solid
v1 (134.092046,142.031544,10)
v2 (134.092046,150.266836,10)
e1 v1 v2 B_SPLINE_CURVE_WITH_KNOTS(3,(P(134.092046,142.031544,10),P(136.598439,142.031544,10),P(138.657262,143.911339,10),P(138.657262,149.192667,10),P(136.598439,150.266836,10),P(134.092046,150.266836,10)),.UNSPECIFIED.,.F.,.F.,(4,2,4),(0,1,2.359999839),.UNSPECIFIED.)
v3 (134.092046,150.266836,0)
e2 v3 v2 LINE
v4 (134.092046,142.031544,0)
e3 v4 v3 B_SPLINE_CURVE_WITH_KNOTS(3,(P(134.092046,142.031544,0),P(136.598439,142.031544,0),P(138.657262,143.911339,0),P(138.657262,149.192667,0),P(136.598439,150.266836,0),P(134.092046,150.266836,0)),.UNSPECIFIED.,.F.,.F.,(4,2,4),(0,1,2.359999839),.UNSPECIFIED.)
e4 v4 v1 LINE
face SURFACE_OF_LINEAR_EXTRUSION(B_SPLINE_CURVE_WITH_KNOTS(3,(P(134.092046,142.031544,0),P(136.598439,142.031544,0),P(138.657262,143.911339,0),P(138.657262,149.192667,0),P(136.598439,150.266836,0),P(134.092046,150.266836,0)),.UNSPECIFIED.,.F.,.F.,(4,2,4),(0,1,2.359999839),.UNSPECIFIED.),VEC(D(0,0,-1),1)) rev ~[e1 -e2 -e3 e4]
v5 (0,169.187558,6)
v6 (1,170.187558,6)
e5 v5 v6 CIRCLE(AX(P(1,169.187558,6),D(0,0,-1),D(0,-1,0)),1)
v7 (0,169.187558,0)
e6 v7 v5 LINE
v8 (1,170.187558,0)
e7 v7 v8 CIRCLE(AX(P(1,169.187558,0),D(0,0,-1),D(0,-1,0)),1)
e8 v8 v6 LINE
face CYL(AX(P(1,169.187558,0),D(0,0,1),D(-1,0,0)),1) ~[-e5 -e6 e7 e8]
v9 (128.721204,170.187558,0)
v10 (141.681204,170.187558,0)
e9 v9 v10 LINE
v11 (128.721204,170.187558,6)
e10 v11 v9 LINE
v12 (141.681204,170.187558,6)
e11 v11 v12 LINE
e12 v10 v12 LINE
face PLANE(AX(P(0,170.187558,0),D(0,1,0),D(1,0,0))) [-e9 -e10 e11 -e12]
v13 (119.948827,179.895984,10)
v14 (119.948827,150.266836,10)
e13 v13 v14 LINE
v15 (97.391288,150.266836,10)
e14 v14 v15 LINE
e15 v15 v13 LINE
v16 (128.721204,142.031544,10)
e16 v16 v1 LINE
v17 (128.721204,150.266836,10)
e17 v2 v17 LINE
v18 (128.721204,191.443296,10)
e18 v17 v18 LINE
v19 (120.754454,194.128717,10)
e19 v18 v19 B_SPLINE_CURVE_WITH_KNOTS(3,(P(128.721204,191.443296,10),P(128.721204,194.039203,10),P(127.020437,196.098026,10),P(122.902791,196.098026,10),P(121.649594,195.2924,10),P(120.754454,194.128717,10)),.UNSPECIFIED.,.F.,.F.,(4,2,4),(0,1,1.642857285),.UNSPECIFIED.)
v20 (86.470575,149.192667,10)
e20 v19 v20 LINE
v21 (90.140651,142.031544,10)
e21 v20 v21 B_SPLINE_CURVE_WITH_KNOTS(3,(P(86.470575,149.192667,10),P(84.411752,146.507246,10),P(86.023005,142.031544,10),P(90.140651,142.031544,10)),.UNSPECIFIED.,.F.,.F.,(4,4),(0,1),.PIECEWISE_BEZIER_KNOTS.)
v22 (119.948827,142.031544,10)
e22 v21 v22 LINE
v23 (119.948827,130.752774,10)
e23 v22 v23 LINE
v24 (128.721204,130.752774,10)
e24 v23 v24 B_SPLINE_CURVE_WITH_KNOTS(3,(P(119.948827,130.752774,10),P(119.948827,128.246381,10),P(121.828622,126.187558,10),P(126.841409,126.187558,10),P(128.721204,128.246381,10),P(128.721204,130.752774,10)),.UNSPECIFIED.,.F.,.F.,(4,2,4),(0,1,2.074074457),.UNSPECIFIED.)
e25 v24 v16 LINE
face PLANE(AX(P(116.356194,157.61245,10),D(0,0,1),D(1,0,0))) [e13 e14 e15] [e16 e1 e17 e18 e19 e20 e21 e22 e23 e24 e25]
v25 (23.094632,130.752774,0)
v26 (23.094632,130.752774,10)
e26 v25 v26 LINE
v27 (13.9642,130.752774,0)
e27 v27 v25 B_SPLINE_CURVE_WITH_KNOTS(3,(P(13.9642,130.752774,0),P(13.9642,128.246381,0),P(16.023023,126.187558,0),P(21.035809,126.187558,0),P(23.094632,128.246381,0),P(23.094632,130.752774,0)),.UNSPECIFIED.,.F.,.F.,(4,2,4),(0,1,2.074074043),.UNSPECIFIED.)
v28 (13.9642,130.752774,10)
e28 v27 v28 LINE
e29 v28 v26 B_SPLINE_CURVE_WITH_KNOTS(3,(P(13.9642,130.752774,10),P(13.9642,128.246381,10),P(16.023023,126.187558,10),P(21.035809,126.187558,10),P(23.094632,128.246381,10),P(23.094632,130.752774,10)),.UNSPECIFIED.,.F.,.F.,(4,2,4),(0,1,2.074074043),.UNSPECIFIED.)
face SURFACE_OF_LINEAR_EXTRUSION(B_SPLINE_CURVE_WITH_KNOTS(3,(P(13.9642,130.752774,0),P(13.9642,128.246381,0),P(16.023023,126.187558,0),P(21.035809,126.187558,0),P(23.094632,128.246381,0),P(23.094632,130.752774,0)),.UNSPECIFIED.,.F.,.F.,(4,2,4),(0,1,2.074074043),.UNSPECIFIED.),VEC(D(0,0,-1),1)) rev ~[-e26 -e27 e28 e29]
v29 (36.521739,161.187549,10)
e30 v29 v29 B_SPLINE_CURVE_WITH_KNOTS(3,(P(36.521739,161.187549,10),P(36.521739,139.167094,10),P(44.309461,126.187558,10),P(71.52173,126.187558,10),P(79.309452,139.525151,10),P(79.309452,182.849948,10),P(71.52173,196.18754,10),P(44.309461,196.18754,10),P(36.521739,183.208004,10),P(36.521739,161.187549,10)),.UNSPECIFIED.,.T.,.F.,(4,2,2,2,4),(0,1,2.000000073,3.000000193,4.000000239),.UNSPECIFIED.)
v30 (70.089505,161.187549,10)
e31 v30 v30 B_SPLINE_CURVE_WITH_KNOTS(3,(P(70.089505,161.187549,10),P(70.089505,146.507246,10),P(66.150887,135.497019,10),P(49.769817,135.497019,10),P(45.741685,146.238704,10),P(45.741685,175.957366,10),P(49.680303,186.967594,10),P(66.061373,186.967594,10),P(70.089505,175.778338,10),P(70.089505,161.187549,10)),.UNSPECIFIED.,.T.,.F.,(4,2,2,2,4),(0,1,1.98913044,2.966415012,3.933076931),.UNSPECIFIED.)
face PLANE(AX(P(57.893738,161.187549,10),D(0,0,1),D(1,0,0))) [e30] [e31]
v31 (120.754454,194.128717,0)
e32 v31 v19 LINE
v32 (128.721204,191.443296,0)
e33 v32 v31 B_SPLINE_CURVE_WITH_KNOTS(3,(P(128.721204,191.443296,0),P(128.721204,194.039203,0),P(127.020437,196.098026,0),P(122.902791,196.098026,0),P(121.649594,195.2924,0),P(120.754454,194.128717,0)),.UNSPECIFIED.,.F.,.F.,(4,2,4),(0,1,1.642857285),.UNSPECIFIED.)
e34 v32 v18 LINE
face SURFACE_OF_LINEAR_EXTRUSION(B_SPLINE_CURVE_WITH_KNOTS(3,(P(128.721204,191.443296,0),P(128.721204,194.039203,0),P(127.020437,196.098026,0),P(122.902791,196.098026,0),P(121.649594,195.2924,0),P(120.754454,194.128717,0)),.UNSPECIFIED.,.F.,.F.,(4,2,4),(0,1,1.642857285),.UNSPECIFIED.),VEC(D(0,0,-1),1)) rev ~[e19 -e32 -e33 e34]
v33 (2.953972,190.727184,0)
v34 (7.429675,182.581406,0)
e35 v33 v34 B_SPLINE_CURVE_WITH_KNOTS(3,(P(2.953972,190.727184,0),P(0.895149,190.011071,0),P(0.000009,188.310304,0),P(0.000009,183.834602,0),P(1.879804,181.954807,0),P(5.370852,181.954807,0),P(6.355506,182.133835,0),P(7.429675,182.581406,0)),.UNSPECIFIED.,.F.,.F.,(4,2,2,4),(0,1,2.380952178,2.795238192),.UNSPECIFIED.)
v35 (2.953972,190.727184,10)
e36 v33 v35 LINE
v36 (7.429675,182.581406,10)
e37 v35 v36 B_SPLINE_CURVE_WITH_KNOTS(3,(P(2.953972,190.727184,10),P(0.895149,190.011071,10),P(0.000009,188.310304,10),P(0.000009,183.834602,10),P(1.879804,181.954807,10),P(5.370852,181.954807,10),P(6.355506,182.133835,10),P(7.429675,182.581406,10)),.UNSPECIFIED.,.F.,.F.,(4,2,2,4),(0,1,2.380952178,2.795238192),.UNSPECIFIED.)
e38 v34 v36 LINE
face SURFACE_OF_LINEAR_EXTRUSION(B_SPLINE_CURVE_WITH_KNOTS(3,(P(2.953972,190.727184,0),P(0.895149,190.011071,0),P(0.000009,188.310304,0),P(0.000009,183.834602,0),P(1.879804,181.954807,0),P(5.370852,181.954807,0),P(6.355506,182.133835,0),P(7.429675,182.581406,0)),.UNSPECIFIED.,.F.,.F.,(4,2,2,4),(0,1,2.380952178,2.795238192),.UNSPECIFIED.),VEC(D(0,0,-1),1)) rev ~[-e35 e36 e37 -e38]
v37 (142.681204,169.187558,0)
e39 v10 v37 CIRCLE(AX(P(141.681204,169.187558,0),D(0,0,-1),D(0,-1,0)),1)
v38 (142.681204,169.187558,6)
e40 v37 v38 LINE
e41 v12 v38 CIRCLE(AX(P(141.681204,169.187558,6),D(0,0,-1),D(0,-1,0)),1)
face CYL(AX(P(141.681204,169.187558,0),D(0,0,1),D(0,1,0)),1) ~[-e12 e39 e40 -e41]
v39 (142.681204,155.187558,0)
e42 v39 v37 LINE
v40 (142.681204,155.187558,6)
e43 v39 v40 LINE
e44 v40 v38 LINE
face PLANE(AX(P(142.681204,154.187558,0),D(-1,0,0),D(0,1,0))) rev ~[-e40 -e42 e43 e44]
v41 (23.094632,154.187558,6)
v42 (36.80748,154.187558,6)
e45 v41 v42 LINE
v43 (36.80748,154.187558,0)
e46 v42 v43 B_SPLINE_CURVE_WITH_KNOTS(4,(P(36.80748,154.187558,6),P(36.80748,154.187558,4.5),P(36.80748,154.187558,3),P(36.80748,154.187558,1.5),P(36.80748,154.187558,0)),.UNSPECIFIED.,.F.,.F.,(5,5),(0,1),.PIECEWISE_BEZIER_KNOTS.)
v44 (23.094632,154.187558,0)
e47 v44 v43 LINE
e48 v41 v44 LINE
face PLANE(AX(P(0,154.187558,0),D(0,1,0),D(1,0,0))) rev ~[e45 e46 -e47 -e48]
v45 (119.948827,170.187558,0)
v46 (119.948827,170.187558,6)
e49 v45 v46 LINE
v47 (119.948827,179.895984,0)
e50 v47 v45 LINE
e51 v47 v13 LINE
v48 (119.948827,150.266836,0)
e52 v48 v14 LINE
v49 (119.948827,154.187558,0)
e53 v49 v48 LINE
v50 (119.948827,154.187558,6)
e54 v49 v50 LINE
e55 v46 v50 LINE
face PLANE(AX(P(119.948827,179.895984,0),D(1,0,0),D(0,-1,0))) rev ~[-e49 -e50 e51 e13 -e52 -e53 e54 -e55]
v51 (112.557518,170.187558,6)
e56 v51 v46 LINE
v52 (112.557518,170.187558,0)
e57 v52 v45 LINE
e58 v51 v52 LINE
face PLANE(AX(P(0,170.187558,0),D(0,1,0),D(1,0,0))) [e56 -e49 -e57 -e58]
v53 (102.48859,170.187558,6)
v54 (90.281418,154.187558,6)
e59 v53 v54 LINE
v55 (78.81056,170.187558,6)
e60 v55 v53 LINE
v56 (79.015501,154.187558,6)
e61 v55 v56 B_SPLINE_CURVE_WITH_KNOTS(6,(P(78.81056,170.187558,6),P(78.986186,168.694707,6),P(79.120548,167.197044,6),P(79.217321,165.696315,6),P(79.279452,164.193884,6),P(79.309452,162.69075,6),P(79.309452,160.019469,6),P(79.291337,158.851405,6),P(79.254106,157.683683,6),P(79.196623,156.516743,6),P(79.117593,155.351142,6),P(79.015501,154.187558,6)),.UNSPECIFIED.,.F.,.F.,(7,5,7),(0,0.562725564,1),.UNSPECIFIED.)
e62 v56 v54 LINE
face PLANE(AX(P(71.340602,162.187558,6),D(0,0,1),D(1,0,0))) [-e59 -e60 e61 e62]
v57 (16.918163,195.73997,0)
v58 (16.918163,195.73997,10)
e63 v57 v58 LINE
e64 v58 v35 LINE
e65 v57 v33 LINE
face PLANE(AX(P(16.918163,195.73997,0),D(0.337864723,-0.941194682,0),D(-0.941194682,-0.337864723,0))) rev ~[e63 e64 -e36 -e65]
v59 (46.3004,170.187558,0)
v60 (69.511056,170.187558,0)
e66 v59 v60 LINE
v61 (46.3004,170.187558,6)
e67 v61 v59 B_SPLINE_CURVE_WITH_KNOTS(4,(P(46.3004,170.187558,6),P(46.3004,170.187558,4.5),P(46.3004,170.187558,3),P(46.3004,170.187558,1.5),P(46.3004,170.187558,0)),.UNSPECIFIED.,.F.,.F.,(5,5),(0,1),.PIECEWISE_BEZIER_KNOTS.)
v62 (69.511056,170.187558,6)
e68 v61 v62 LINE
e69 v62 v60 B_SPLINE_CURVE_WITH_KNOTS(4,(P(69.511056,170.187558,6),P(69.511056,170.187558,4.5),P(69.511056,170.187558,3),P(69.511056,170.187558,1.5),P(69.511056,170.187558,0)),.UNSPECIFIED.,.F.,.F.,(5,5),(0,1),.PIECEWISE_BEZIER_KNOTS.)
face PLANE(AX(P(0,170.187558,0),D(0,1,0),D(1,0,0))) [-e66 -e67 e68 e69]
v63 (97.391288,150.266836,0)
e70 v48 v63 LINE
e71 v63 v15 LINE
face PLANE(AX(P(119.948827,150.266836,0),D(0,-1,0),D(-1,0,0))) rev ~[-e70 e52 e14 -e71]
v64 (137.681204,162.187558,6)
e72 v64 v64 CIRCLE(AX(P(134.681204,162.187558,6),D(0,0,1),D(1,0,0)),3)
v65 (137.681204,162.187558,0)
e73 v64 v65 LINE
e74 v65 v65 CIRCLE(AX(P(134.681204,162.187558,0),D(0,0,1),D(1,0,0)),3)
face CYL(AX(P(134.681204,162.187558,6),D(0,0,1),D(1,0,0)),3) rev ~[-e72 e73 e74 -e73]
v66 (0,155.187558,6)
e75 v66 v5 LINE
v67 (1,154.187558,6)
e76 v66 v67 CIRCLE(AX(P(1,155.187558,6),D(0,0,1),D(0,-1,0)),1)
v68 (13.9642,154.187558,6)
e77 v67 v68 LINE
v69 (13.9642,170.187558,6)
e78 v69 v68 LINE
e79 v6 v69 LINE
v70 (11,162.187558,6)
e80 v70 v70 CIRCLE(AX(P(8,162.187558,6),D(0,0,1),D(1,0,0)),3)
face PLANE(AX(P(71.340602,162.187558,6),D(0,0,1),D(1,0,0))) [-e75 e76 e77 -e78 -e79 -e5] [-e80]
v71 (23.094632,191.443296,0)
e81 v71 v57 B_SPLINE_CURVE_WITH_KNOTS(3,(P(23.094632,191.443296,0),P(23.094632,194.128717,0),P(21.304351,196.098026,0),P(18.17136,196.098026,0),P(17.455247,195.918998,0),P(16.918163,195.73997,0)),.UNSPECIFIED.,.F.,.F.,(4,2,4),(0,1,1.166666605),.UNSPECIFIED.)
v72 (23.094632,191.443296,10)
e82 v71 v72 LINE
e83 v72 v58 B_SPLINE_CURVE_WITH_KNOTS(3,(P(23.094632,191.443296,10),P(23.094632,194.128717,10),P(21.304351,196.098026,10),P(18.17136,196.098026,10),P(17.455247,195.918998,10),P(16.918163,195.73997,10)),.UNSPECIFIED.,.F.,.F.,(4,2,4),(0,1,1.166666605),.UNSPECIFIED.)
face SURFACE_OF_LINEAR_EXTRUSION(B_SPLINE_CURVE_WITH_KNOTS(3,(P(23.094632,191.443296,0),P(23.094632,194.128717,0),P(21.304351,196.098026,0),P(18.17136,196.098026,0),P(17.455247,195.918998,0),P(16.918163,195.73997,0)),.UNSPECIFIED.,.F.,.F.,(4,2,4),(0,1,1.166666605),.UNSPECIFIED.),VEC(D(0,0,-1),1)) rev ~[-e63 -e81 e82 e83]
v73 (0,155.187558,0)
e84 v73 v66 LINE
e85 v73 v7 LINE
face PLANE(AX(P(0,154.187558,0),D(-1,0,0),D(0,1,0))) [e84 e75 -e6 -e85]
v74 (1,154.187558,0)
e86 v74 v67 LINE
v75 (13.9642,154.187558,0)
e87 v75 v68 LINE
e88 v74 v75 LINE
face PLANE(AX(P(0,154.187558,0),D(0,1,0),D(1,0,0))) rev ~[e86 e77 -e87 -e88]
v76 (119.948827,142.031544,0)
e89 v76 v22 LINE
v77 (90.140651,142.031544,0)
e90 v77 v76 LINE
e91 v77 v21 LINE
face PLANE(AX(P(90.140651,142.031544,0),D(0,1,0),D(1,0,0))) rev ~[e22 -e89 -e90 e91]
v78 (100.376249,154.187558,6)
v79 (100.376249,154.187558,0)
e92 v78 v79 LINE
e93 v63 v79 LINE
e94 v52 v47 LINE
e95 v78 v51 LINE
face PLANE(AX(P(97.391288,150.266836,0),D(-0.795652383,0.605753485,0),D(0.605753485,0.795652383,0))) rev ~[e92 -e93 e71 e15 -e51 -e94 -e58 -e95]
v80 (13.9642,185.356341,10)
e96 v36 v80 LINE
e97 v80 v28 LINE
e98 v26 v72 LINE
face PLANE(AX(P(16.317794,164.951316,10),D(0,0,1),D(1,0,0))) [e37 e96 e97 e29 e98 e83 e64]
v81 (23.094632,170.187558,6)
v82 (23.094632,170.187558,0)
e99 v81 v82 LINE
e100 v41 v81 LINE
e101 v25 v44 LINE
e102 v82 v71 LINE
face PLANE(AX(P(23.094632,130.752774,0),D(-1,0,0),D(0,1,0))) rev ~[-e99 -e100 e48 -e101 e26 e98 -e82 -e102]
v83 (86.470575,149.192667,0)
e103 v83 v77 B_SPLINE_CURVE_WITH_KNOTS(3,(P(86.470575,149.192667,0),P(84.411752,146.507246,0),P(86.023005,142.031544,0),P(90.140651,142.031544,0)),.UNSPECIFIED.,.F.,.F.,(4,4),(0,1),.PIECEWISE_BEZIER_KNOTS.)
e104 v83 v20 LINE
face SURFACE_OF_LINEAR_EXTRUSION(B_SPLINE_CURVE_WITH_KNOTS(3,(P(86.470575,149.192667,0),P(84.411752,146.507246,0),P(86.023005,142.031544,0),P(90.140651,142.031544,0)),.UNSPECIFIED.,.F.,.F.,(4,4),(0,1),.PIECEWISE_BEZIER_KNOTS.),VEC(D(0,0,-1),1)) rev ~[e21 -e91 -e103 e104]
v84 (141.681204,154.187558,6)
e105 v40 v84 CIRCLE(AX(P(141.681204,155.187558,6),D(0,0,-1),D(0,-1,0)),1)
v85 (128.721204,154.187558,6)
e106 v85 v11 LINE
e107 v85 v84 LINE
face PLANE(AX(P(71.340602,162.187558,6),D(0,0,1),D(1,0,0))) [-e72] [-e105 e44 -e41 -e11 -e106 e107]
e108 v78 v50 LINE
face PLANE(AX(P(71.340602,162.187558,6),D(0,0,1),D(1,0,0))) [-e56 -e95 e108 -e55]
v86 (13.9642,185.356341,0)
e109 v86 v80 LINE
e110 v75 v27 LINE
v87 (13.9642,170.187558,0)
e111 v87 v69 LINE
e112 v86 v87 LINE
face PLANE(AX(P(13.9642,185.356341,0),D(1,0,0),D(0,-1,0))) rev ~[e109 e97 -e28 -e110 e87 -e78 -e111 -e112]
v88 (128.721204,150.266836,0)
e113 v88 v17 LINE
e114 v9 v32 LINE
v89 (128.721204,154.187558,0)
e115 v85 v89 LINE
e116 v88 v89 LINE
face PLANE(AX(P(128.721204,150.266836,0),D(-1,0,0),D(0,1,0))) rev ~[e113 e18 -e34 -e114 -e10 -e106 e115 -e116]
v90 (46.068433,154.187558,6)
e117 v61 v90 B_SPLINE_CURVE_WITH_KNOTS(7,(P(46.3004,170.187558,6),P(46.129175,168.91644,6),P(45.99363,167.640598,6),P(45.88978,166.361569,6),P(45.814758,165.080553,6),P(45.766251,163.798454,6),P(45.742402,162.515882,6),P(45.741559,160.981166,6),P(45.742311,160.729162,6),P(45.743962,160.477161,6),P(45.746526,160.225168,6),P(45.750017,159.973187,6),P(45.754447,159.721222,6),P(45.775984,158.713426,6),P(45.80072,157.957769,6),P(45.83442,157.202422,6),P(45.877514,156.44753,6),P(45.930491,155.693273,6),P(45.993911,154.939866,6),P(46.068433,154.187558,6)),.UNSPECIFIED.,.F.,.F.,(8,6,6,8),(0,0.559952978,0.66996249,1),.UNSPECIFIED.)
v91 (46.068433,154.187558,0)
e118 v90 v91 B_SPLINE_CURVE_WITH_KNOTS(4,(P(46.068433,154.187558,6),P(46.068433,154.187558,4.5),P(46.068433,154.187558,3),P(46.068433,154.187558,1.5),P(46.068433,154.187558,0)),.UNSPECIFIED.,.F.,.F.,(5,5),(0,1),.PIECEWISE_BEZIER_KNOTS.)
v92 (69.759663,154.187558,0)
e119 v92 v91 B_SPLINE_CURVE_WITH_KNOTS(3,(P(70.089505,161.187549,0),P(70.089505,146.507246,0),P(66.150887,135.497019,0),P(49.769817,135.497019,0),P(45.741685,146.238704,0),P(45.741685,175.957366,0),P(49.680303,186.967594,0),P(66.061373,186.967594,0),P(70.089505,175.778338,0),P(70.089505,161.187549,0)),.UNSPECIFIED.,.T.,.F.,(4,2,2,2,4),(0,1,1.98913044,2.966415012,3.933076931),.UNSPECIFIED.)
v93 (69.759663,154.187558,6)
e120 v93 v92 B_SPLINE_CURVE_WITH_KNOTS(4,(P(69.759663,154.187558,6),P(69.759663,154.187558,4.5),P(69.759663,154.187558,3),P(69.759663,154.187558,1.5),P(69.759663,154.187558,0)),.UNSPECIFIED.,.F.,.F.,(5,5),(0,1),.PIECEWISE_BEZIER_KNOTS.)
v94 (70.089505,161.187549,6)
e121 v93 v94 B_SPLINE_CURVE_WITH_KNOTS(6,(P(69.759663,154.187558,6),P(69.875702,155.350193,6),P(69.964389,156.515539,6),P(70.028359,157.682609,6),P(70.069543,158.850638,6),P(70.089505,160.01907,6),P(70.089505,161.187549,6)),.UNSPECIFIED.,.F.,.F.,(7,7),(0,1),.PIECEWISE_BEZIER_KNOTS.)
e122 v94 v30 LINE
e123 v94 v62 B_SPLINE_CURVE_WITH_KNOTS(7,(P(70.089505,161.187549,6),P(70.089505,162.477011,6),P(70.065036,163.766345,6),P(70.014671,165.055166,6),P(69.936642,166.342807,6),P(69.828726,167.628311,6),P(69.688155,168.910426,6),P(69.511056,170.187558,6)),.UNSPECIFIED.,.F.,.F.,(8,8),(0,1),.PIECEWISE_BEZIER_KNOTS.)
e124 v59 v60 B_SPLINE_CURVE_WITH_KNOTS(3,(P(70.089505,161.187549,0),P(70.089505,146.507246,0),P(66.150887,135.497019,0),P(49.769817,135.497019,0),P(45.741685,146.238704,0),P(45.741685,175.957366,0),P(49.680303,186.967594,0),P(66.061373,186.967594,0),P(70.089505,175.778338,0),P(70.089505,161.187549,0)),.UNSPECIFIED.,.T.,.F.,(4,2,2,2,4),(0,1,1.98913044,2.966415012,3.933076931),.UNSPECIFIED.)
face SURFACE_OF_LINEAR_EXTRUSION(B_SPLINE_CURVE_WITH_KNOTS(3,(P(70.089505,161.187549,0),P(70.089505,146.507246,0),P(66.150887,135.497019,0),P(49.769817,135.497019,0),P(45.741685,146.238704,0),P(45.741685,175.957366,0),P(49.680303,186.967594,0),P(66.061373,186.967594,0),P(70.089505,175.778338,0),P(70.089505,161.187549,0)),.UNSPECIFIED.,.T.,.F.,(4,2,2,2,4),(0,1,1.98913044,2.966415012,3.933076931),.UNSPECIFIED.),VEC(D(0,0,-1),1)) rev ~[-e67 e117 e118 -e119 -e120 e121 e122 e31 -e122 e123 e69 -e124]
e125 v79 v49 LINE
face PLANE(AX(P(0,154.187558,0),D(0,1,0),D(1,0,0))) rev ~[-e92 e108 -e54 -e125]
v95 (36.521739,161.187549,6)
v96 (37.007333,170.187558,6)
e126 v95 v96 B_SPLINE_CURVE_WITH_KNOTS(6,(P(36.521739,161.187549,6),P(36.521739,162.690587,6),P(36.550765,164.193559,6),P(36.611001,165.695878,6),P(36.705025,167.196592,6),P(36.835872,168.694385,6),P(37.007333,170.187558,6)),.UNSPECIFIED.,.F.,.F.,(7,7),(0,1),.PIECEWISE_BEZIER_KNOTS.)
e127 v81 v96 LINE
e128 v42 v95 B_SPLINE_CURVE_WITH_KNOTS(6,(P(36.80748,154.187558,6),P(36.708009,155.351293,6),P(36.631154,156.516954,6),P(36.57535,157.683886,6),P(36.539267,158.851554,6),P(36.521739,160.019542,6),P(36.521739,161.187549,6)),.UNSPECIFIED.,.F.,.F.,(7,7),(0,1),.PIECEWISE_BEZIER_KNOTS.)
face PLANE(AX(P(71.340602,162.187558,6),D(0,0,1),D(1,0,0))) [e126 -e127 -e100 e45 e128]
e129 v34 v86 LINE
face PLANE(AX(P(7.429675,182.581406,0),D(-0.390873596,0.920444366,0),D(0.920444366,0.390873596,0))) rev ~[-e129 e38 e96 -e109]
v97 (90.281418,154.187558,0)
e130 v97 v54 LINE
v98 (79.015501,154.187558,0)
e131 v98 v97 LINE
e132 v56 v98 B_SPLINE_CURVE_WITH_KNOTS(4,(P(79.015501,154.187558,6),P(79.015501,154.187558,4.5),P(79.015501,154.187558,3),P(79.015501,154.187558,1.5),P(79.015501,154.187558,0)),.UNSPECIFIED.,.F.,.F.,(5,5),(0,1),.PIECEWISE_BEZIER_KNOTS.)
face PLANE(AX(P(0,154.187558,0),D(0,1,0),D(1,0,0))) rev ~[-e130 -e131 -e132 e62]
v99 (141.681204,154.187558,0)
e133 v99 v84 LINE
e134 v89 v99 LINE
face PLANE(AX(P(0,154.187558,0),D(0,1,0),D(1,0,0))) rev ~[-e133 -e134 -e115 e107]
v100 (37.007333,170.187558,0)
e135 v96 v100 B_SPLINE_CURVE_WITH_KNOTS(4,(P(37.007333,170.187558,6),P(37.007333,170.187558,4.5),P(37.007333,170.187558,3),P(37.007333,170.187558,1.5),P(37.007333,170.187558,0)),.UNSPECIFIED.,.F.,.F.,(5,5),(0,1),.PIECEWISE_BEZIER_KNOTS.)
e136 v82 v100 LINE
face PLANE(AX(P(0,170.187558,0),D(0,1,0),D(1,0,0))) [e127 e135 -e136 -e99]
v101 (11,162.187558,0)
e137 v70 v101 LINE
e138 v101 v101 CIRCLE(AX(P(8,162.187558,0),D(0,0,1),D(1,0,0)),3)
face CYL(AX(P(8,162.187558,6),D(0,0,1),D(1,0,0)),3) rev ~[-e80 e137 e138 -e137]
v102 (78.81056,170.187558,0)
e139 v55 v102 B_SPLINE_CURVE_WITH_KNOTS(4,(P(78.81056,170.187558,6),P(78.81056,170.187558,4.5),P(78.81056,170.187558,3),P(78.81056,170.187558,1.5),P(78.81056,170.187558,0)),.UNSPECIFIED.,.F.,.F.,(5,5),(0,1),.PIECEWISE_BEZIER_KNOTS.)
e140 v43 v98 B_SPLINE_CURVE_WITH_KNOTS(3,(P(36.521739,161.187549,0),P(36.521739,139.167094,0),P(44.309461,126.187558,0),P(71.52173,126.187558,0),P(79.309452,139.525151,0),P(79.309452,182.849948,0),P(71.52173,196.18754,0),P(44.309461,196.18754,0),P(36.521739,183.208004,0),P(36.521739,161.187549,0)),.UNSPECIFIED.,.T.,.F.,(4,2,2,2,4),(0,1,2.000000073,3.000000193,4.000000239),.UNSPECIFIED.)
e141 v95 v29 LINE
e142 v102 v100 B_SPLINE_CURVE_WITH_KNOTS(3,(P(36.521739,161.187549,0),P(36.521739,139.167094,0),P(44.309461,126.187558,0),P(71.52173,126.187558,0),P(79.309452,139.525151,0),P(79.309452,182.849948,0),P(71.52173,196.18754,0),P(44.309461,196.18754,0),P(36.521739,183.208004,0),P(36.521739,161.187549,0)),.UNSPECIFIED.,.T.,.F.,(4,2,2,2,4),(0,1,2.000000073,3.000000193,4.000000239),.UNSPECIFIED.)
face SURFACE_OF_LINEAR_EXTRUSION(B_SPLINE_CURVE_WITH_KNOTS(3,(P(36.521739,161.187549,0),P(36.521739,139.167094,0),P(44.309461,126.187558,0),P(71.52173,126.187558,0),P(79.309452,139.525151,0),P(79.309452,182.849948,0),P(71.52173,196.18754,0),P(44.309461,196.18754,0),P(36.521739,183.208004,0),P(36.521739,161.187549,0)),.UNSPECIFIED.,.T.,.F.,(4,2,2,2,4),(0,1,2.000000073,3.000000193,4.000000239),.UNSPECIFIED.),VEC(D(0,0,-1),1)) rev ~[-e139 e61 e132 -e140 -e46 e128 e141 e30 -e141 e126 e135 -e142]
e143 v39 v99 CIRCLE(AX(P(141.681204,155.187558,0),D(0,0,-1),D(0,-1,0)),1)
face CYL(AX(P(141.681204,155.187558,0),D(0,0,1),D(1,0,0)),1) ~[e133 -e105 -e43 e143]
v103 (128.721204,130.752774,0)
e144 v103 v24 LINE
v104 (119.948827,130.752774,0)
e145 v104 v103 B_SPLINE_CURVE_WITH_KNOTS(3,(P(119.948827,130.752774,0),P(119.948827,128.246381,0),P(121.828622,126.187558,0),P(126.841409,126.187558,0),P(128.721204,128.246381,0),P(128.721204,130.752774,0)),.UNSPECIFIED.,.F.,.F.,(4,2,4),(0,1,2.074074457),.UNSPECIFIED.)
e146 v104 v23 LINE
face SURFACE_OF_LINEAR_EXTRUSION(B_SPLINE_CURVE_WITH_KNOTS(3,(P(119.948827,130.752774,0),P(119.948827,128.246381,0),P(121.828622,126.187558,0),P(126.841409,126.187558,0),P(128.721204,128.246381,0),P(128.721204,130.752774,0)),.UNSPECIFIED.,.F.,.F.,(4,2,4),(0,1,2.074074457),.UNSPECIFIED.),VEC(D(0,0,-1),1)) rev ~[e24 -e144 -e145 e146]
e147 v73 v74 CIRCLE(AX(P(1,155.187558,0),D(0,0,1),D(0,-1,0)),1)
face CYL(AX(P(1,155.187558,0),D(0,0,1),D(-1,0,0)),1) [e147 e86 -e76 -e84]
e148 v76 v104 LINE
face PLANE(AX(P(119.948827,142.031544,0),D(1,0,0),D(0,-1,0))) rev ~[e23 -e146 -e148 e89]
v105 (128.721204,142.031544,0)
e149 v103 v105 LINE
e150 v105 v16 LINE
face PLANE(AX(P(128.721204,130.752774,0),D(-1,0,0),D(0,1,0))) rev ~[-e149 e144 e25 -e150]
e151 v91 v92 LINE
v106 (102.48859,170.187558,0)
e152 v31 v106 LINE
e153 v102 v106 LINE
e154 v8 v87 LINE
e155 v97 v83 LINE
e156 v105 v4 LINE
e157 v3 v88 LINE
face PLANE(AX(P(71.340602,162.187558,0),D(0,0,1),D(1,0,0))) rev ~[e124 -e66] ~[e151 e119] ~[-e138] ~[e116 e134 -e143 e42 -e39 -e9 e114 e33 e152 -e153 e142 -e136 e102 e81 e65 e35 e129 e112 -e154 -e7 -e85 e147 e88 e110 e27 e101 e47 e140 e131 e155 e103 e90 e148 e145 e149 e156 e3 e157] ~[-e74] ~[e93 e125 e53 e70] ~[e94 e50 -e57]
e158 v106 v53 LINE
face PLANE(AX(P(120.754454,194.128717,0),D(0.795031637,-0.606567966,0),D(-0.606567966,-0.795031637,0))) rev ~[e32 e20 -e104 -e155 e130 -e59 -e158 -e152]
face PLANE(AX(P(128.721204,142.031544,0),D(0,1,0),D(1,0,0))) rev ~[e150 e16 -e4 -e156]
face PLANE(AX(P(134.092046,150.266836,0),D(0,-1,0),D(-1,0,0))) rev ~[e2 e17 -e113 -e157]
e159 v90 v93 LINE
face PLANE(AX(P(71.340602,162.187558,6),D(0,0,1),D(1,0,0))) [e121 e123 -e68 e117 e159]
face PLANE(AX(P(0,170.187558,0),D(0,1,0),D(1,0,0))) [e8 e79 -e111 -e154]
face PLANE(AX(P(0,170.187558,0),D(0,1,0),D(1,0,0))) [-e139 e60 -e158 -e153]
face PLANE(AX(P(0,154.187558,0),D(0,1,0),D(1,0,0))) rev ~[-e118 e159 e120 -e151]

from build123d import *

# Parameters (mm, degrees)
PAD_DEPTH    = 10
SKETCH001_W  = 142.681204
SKETCH001_H  = 16
PAD001_DEPTH = 6
SKETCH002_R  = 3
POCKET_DEPTH = 6.001
FILLET_R     = 1


with BuildPart() as part:
    # Sketch (on XY_Plane of Origin) → Pad (new body)
    with BuildSketch(Plane.XY):
        with BuildLine():
            add(Edge.make_bspline(
                [(18.439902, 126.187558), (21.035809, 126.187558), (23.094632, 128.246381), (23.094632, 130.752774)],
                knots=[0, 0, 0, 0, 1, 1, 1, 1], degree=3))
            Line((23.094632, 130.752774), (23.094632, 191.443296))
            add(Edge.make_bspline(
                [(23.094632, 191.443296), (23.094632, 194.128717), (21.304351, 196.098026), (18.61893, 196.098026)],
                knots=[0, 0, 0, 0, 1, 1, 1, 1], degree=3))
            add(Edge.make_bspline(
                [(18.61893, 196.098026), (18.17136, 196.098026), (17.455247, 195.918998), (16.918163, 195.73997)],
                knots=[0, 0, 0, 0, 1, 1, 1, 1], degree=3))
            Line((16.918163, 195.73997), (2.953972, 190.727184))
            add(Edge.make_bspline(
                [(2.953972, 190.727184), (0.895149, 190.011071), (9e-06, 188.310304), (9e-06, 186.430509)],
                knots=[0, 0, 0, 0, 1, 1, 1, 1], degree=3))
            add(Edge.make_bspline(
                [(9e-06, 186.430509), (9e-06, 183.834602), (1.879804, 181.954807), (4.565225, 181.954807)],
                knots=[0, 0, 0, 0, 1, 1, 1, 1], degree=3))
            add(Edge.make_bspline(
                [(4.565225, 181.954807), (5.370852, 181.954807), (6.355506, 182.133835), (7.429675, 182.581406)],
                knots=[0, 0, 0, 0, 1, 1, 1, 1], degree=3))
            Line((7.429675, 182.581406), (13.9642, 185.356341))
            Line((13.9642, 185.356341), (13.9642, 130.752774))
            add(Edge.make_bspline(
                [(13.9642, 130.752774), (13.9642, 128.246381), (16.023023, 126.187558), (18.439902, 126.187558)],
                knots=[0, 0, 0, 0, 1, 1, 1, 1], degree=3))
        make_face()
        with BuildLine():
            add(Edge.make_bspline(
                [(57.915595, 126.187558), (71.52173, 126.187558), (79.309452, 139.525151), (79.309452, 161.187549)],
                knots=[0, 0, 0, 0, 1, 1, 1, 1], degree=3))
            add(Edge.make_bspline(
                [(79.309452, 161.187549), (79.309452, 182.849948), (71.52173, 196.18754), (57.915595, 196.18754)],
                knots=[0, 0, 0, 0, 1, 1, 1, 1], degree=3))
            add(Edge.make_bspline(
                [(57.915595, 196.18754), (44.309461, 196.18754), (36.521739, 183.208004), (36.521739, 161.187549)],
                knots=[0, 0, 0, 0, 1, 1, 1, 1], degree=3))
            add(Edge.make_bspline(
                [(36.521739, 161.187549), (36.521739, 139.167094), (44.309461, 126.187558), (57.915595, 126.187558)],
                knots=[0, 0, 0, 0, 1, 1, 1, 1], degree=3))
        make_face()
        with BuildLine():
            add(Edge.make_bspline(
                [(57.915595, 135.497019), (49.769817, 135.497019), (45.741685, 146.238704), (45.741685, 161.187549)],
                knots=[0, 0, 0, 0, 1, 1, 1, 1], degree=3))
            add(Edge.make_bspline(
                [(45.741685, 161.187549), (45.741685, 175.957366), (49.680303, 186.967594), (57.915595, 186.967594)],
                knots=[0, 0, 0, 0, 1, 1, 1, 1], degree=3))
            add(Edge.make_bspline(
                [(57.915595, 186.967594), (66.061373, 186.967594), (70.089505, 175.778338), (70.089505, 161.187549)],
                knots=[0, 0, 0, 0, 1, 1, 1, 1], degree=3))
            add(Edge.make_bspline(
                [(70.089505, 161.187549), (70.089505, 146.507246), (66.150887, 135.497019), (57.915595, 135.497019)],
                knots=[0, 0, 0, 0, 1, 1, 1, 1], degree=3))
        make_face(mode=Mode.SUBTRACT)
        with BuildLine():
            add(Edge.make_bspline(
                [(124.245501, 126.187558), (126.841409, 126.187558), (128.721204, 128.246381), (128.721204, 130.752774)],
                knots=[0, 0, 0, 0, 1, 1, 1, 1], degree=3))
            Line((128.721204, 130.752774), (128.721204, 142.031544))
            Line((128.721204, 142.031544), (134.092046, 142.031544))
            add(Edge.make_bspline(
                [(134.092046, 142.031544), (136.598439, 142.031544), (138.657262, 143.911339), (138.657262, 146.14919)],
                knots=[0, 0, 0, 0, 1, 1, 1, 1], degree=3))
            add(Edge.make_bspline(
                [(138.657262, 146.14919), (138.657262, 149.192667), (136.598439, 150.266836), (134.092046, 150.266836)],
                knots=[0, 0, 0, 0, 1, 1, 1, 1], degree=3))
            Line((134.092046, 150.266836), (128.721204, 150.266836))
            Line((128.721204, 150.266836), (128.721204, 191.443296))
            add(Edge.make_bspline(
                [(128.721204, 191.443296), (128.721204, 194.039203), (127.020437, 196.098026), (124.514044, 196.098026)],
                knots=[0, 0, 0, 0, 1, 1, 1, 1], degree=3))
            add(Edge.make_bspline(
                [(124.514044, 196.098026), (122.902791, 196.098026), (121.649594, 195.2924), (120.754454, 194.128717)],
                knots=[0, 0, 0, 0, 1, 1, 1, 1], degree=3))
            Line((120.754454, 194.128717), (86.470575, 149.192667))
            add(Edge.make_bspline(
                [(86.470575, 149.192667), (84.411752, 146.507246), (86.023005, 142.031544), (90.140651, 142.031544)],
                knots=[0, 0, 0, 0, 1, 1, 1, 1], degree=3))
            Line((90.140651, 142.031544), (119.948827, 142.031544))
            Line((119.948827, 142.031544), (119.948827, 130.752774))
            add(Edge.make_bspline(
                [(119.948827, 130.752774), (119.948827, 128.246381), (121.828622, 126.187558), (124.245501, 126.187558)],
                knots=[0, 0, 0, 0, 1, 1, 1, 1], degree=3))
        make_face()
        Polygon((119.948827, 150.266836), (97.391288, 150.266836), (119.948827, 179.895984), align=None, mode=Mode.SUBTRACT)
    extrude(amount=PAD_DEPTH)

    # Sketch001 (on XY_Plane of Origin) → Pad001 (join)
    with BuildSketch(Plane.XY):
        with Locations((71.340602, 162.187558)):
            Rectangle(SKETCH001_W, SKETCH001_H)
    extrude(amount=PAD001_DEPTH)

    # Sketch002 (on Face26 of Pad001) → Pocket (cut, through all)
    with BuildSketch(Plane.XY.offset(6)):
        with Locations((8, 162.187558)):
            Circle(SKETCH002_R)
        with Locations((134.681204, 162.187558)):
            Circle(SKETCH002_R)
    extrude(amount=-POCKET_DEPTH, mode=Mode.SUBTRACT)

    # Fillet
    fillet_edges = [part.edges().sort_by_distance(p)[0] for p in [
        (142.681204, 170.187558, 3),
        (142.681204, 154.187558, 3),
        (0, 170.187558, 3),
        (0, 154.187558, 3),
    ]]
    fillet(fillet_edges, radius=FILLET_R)


solid = part.part
